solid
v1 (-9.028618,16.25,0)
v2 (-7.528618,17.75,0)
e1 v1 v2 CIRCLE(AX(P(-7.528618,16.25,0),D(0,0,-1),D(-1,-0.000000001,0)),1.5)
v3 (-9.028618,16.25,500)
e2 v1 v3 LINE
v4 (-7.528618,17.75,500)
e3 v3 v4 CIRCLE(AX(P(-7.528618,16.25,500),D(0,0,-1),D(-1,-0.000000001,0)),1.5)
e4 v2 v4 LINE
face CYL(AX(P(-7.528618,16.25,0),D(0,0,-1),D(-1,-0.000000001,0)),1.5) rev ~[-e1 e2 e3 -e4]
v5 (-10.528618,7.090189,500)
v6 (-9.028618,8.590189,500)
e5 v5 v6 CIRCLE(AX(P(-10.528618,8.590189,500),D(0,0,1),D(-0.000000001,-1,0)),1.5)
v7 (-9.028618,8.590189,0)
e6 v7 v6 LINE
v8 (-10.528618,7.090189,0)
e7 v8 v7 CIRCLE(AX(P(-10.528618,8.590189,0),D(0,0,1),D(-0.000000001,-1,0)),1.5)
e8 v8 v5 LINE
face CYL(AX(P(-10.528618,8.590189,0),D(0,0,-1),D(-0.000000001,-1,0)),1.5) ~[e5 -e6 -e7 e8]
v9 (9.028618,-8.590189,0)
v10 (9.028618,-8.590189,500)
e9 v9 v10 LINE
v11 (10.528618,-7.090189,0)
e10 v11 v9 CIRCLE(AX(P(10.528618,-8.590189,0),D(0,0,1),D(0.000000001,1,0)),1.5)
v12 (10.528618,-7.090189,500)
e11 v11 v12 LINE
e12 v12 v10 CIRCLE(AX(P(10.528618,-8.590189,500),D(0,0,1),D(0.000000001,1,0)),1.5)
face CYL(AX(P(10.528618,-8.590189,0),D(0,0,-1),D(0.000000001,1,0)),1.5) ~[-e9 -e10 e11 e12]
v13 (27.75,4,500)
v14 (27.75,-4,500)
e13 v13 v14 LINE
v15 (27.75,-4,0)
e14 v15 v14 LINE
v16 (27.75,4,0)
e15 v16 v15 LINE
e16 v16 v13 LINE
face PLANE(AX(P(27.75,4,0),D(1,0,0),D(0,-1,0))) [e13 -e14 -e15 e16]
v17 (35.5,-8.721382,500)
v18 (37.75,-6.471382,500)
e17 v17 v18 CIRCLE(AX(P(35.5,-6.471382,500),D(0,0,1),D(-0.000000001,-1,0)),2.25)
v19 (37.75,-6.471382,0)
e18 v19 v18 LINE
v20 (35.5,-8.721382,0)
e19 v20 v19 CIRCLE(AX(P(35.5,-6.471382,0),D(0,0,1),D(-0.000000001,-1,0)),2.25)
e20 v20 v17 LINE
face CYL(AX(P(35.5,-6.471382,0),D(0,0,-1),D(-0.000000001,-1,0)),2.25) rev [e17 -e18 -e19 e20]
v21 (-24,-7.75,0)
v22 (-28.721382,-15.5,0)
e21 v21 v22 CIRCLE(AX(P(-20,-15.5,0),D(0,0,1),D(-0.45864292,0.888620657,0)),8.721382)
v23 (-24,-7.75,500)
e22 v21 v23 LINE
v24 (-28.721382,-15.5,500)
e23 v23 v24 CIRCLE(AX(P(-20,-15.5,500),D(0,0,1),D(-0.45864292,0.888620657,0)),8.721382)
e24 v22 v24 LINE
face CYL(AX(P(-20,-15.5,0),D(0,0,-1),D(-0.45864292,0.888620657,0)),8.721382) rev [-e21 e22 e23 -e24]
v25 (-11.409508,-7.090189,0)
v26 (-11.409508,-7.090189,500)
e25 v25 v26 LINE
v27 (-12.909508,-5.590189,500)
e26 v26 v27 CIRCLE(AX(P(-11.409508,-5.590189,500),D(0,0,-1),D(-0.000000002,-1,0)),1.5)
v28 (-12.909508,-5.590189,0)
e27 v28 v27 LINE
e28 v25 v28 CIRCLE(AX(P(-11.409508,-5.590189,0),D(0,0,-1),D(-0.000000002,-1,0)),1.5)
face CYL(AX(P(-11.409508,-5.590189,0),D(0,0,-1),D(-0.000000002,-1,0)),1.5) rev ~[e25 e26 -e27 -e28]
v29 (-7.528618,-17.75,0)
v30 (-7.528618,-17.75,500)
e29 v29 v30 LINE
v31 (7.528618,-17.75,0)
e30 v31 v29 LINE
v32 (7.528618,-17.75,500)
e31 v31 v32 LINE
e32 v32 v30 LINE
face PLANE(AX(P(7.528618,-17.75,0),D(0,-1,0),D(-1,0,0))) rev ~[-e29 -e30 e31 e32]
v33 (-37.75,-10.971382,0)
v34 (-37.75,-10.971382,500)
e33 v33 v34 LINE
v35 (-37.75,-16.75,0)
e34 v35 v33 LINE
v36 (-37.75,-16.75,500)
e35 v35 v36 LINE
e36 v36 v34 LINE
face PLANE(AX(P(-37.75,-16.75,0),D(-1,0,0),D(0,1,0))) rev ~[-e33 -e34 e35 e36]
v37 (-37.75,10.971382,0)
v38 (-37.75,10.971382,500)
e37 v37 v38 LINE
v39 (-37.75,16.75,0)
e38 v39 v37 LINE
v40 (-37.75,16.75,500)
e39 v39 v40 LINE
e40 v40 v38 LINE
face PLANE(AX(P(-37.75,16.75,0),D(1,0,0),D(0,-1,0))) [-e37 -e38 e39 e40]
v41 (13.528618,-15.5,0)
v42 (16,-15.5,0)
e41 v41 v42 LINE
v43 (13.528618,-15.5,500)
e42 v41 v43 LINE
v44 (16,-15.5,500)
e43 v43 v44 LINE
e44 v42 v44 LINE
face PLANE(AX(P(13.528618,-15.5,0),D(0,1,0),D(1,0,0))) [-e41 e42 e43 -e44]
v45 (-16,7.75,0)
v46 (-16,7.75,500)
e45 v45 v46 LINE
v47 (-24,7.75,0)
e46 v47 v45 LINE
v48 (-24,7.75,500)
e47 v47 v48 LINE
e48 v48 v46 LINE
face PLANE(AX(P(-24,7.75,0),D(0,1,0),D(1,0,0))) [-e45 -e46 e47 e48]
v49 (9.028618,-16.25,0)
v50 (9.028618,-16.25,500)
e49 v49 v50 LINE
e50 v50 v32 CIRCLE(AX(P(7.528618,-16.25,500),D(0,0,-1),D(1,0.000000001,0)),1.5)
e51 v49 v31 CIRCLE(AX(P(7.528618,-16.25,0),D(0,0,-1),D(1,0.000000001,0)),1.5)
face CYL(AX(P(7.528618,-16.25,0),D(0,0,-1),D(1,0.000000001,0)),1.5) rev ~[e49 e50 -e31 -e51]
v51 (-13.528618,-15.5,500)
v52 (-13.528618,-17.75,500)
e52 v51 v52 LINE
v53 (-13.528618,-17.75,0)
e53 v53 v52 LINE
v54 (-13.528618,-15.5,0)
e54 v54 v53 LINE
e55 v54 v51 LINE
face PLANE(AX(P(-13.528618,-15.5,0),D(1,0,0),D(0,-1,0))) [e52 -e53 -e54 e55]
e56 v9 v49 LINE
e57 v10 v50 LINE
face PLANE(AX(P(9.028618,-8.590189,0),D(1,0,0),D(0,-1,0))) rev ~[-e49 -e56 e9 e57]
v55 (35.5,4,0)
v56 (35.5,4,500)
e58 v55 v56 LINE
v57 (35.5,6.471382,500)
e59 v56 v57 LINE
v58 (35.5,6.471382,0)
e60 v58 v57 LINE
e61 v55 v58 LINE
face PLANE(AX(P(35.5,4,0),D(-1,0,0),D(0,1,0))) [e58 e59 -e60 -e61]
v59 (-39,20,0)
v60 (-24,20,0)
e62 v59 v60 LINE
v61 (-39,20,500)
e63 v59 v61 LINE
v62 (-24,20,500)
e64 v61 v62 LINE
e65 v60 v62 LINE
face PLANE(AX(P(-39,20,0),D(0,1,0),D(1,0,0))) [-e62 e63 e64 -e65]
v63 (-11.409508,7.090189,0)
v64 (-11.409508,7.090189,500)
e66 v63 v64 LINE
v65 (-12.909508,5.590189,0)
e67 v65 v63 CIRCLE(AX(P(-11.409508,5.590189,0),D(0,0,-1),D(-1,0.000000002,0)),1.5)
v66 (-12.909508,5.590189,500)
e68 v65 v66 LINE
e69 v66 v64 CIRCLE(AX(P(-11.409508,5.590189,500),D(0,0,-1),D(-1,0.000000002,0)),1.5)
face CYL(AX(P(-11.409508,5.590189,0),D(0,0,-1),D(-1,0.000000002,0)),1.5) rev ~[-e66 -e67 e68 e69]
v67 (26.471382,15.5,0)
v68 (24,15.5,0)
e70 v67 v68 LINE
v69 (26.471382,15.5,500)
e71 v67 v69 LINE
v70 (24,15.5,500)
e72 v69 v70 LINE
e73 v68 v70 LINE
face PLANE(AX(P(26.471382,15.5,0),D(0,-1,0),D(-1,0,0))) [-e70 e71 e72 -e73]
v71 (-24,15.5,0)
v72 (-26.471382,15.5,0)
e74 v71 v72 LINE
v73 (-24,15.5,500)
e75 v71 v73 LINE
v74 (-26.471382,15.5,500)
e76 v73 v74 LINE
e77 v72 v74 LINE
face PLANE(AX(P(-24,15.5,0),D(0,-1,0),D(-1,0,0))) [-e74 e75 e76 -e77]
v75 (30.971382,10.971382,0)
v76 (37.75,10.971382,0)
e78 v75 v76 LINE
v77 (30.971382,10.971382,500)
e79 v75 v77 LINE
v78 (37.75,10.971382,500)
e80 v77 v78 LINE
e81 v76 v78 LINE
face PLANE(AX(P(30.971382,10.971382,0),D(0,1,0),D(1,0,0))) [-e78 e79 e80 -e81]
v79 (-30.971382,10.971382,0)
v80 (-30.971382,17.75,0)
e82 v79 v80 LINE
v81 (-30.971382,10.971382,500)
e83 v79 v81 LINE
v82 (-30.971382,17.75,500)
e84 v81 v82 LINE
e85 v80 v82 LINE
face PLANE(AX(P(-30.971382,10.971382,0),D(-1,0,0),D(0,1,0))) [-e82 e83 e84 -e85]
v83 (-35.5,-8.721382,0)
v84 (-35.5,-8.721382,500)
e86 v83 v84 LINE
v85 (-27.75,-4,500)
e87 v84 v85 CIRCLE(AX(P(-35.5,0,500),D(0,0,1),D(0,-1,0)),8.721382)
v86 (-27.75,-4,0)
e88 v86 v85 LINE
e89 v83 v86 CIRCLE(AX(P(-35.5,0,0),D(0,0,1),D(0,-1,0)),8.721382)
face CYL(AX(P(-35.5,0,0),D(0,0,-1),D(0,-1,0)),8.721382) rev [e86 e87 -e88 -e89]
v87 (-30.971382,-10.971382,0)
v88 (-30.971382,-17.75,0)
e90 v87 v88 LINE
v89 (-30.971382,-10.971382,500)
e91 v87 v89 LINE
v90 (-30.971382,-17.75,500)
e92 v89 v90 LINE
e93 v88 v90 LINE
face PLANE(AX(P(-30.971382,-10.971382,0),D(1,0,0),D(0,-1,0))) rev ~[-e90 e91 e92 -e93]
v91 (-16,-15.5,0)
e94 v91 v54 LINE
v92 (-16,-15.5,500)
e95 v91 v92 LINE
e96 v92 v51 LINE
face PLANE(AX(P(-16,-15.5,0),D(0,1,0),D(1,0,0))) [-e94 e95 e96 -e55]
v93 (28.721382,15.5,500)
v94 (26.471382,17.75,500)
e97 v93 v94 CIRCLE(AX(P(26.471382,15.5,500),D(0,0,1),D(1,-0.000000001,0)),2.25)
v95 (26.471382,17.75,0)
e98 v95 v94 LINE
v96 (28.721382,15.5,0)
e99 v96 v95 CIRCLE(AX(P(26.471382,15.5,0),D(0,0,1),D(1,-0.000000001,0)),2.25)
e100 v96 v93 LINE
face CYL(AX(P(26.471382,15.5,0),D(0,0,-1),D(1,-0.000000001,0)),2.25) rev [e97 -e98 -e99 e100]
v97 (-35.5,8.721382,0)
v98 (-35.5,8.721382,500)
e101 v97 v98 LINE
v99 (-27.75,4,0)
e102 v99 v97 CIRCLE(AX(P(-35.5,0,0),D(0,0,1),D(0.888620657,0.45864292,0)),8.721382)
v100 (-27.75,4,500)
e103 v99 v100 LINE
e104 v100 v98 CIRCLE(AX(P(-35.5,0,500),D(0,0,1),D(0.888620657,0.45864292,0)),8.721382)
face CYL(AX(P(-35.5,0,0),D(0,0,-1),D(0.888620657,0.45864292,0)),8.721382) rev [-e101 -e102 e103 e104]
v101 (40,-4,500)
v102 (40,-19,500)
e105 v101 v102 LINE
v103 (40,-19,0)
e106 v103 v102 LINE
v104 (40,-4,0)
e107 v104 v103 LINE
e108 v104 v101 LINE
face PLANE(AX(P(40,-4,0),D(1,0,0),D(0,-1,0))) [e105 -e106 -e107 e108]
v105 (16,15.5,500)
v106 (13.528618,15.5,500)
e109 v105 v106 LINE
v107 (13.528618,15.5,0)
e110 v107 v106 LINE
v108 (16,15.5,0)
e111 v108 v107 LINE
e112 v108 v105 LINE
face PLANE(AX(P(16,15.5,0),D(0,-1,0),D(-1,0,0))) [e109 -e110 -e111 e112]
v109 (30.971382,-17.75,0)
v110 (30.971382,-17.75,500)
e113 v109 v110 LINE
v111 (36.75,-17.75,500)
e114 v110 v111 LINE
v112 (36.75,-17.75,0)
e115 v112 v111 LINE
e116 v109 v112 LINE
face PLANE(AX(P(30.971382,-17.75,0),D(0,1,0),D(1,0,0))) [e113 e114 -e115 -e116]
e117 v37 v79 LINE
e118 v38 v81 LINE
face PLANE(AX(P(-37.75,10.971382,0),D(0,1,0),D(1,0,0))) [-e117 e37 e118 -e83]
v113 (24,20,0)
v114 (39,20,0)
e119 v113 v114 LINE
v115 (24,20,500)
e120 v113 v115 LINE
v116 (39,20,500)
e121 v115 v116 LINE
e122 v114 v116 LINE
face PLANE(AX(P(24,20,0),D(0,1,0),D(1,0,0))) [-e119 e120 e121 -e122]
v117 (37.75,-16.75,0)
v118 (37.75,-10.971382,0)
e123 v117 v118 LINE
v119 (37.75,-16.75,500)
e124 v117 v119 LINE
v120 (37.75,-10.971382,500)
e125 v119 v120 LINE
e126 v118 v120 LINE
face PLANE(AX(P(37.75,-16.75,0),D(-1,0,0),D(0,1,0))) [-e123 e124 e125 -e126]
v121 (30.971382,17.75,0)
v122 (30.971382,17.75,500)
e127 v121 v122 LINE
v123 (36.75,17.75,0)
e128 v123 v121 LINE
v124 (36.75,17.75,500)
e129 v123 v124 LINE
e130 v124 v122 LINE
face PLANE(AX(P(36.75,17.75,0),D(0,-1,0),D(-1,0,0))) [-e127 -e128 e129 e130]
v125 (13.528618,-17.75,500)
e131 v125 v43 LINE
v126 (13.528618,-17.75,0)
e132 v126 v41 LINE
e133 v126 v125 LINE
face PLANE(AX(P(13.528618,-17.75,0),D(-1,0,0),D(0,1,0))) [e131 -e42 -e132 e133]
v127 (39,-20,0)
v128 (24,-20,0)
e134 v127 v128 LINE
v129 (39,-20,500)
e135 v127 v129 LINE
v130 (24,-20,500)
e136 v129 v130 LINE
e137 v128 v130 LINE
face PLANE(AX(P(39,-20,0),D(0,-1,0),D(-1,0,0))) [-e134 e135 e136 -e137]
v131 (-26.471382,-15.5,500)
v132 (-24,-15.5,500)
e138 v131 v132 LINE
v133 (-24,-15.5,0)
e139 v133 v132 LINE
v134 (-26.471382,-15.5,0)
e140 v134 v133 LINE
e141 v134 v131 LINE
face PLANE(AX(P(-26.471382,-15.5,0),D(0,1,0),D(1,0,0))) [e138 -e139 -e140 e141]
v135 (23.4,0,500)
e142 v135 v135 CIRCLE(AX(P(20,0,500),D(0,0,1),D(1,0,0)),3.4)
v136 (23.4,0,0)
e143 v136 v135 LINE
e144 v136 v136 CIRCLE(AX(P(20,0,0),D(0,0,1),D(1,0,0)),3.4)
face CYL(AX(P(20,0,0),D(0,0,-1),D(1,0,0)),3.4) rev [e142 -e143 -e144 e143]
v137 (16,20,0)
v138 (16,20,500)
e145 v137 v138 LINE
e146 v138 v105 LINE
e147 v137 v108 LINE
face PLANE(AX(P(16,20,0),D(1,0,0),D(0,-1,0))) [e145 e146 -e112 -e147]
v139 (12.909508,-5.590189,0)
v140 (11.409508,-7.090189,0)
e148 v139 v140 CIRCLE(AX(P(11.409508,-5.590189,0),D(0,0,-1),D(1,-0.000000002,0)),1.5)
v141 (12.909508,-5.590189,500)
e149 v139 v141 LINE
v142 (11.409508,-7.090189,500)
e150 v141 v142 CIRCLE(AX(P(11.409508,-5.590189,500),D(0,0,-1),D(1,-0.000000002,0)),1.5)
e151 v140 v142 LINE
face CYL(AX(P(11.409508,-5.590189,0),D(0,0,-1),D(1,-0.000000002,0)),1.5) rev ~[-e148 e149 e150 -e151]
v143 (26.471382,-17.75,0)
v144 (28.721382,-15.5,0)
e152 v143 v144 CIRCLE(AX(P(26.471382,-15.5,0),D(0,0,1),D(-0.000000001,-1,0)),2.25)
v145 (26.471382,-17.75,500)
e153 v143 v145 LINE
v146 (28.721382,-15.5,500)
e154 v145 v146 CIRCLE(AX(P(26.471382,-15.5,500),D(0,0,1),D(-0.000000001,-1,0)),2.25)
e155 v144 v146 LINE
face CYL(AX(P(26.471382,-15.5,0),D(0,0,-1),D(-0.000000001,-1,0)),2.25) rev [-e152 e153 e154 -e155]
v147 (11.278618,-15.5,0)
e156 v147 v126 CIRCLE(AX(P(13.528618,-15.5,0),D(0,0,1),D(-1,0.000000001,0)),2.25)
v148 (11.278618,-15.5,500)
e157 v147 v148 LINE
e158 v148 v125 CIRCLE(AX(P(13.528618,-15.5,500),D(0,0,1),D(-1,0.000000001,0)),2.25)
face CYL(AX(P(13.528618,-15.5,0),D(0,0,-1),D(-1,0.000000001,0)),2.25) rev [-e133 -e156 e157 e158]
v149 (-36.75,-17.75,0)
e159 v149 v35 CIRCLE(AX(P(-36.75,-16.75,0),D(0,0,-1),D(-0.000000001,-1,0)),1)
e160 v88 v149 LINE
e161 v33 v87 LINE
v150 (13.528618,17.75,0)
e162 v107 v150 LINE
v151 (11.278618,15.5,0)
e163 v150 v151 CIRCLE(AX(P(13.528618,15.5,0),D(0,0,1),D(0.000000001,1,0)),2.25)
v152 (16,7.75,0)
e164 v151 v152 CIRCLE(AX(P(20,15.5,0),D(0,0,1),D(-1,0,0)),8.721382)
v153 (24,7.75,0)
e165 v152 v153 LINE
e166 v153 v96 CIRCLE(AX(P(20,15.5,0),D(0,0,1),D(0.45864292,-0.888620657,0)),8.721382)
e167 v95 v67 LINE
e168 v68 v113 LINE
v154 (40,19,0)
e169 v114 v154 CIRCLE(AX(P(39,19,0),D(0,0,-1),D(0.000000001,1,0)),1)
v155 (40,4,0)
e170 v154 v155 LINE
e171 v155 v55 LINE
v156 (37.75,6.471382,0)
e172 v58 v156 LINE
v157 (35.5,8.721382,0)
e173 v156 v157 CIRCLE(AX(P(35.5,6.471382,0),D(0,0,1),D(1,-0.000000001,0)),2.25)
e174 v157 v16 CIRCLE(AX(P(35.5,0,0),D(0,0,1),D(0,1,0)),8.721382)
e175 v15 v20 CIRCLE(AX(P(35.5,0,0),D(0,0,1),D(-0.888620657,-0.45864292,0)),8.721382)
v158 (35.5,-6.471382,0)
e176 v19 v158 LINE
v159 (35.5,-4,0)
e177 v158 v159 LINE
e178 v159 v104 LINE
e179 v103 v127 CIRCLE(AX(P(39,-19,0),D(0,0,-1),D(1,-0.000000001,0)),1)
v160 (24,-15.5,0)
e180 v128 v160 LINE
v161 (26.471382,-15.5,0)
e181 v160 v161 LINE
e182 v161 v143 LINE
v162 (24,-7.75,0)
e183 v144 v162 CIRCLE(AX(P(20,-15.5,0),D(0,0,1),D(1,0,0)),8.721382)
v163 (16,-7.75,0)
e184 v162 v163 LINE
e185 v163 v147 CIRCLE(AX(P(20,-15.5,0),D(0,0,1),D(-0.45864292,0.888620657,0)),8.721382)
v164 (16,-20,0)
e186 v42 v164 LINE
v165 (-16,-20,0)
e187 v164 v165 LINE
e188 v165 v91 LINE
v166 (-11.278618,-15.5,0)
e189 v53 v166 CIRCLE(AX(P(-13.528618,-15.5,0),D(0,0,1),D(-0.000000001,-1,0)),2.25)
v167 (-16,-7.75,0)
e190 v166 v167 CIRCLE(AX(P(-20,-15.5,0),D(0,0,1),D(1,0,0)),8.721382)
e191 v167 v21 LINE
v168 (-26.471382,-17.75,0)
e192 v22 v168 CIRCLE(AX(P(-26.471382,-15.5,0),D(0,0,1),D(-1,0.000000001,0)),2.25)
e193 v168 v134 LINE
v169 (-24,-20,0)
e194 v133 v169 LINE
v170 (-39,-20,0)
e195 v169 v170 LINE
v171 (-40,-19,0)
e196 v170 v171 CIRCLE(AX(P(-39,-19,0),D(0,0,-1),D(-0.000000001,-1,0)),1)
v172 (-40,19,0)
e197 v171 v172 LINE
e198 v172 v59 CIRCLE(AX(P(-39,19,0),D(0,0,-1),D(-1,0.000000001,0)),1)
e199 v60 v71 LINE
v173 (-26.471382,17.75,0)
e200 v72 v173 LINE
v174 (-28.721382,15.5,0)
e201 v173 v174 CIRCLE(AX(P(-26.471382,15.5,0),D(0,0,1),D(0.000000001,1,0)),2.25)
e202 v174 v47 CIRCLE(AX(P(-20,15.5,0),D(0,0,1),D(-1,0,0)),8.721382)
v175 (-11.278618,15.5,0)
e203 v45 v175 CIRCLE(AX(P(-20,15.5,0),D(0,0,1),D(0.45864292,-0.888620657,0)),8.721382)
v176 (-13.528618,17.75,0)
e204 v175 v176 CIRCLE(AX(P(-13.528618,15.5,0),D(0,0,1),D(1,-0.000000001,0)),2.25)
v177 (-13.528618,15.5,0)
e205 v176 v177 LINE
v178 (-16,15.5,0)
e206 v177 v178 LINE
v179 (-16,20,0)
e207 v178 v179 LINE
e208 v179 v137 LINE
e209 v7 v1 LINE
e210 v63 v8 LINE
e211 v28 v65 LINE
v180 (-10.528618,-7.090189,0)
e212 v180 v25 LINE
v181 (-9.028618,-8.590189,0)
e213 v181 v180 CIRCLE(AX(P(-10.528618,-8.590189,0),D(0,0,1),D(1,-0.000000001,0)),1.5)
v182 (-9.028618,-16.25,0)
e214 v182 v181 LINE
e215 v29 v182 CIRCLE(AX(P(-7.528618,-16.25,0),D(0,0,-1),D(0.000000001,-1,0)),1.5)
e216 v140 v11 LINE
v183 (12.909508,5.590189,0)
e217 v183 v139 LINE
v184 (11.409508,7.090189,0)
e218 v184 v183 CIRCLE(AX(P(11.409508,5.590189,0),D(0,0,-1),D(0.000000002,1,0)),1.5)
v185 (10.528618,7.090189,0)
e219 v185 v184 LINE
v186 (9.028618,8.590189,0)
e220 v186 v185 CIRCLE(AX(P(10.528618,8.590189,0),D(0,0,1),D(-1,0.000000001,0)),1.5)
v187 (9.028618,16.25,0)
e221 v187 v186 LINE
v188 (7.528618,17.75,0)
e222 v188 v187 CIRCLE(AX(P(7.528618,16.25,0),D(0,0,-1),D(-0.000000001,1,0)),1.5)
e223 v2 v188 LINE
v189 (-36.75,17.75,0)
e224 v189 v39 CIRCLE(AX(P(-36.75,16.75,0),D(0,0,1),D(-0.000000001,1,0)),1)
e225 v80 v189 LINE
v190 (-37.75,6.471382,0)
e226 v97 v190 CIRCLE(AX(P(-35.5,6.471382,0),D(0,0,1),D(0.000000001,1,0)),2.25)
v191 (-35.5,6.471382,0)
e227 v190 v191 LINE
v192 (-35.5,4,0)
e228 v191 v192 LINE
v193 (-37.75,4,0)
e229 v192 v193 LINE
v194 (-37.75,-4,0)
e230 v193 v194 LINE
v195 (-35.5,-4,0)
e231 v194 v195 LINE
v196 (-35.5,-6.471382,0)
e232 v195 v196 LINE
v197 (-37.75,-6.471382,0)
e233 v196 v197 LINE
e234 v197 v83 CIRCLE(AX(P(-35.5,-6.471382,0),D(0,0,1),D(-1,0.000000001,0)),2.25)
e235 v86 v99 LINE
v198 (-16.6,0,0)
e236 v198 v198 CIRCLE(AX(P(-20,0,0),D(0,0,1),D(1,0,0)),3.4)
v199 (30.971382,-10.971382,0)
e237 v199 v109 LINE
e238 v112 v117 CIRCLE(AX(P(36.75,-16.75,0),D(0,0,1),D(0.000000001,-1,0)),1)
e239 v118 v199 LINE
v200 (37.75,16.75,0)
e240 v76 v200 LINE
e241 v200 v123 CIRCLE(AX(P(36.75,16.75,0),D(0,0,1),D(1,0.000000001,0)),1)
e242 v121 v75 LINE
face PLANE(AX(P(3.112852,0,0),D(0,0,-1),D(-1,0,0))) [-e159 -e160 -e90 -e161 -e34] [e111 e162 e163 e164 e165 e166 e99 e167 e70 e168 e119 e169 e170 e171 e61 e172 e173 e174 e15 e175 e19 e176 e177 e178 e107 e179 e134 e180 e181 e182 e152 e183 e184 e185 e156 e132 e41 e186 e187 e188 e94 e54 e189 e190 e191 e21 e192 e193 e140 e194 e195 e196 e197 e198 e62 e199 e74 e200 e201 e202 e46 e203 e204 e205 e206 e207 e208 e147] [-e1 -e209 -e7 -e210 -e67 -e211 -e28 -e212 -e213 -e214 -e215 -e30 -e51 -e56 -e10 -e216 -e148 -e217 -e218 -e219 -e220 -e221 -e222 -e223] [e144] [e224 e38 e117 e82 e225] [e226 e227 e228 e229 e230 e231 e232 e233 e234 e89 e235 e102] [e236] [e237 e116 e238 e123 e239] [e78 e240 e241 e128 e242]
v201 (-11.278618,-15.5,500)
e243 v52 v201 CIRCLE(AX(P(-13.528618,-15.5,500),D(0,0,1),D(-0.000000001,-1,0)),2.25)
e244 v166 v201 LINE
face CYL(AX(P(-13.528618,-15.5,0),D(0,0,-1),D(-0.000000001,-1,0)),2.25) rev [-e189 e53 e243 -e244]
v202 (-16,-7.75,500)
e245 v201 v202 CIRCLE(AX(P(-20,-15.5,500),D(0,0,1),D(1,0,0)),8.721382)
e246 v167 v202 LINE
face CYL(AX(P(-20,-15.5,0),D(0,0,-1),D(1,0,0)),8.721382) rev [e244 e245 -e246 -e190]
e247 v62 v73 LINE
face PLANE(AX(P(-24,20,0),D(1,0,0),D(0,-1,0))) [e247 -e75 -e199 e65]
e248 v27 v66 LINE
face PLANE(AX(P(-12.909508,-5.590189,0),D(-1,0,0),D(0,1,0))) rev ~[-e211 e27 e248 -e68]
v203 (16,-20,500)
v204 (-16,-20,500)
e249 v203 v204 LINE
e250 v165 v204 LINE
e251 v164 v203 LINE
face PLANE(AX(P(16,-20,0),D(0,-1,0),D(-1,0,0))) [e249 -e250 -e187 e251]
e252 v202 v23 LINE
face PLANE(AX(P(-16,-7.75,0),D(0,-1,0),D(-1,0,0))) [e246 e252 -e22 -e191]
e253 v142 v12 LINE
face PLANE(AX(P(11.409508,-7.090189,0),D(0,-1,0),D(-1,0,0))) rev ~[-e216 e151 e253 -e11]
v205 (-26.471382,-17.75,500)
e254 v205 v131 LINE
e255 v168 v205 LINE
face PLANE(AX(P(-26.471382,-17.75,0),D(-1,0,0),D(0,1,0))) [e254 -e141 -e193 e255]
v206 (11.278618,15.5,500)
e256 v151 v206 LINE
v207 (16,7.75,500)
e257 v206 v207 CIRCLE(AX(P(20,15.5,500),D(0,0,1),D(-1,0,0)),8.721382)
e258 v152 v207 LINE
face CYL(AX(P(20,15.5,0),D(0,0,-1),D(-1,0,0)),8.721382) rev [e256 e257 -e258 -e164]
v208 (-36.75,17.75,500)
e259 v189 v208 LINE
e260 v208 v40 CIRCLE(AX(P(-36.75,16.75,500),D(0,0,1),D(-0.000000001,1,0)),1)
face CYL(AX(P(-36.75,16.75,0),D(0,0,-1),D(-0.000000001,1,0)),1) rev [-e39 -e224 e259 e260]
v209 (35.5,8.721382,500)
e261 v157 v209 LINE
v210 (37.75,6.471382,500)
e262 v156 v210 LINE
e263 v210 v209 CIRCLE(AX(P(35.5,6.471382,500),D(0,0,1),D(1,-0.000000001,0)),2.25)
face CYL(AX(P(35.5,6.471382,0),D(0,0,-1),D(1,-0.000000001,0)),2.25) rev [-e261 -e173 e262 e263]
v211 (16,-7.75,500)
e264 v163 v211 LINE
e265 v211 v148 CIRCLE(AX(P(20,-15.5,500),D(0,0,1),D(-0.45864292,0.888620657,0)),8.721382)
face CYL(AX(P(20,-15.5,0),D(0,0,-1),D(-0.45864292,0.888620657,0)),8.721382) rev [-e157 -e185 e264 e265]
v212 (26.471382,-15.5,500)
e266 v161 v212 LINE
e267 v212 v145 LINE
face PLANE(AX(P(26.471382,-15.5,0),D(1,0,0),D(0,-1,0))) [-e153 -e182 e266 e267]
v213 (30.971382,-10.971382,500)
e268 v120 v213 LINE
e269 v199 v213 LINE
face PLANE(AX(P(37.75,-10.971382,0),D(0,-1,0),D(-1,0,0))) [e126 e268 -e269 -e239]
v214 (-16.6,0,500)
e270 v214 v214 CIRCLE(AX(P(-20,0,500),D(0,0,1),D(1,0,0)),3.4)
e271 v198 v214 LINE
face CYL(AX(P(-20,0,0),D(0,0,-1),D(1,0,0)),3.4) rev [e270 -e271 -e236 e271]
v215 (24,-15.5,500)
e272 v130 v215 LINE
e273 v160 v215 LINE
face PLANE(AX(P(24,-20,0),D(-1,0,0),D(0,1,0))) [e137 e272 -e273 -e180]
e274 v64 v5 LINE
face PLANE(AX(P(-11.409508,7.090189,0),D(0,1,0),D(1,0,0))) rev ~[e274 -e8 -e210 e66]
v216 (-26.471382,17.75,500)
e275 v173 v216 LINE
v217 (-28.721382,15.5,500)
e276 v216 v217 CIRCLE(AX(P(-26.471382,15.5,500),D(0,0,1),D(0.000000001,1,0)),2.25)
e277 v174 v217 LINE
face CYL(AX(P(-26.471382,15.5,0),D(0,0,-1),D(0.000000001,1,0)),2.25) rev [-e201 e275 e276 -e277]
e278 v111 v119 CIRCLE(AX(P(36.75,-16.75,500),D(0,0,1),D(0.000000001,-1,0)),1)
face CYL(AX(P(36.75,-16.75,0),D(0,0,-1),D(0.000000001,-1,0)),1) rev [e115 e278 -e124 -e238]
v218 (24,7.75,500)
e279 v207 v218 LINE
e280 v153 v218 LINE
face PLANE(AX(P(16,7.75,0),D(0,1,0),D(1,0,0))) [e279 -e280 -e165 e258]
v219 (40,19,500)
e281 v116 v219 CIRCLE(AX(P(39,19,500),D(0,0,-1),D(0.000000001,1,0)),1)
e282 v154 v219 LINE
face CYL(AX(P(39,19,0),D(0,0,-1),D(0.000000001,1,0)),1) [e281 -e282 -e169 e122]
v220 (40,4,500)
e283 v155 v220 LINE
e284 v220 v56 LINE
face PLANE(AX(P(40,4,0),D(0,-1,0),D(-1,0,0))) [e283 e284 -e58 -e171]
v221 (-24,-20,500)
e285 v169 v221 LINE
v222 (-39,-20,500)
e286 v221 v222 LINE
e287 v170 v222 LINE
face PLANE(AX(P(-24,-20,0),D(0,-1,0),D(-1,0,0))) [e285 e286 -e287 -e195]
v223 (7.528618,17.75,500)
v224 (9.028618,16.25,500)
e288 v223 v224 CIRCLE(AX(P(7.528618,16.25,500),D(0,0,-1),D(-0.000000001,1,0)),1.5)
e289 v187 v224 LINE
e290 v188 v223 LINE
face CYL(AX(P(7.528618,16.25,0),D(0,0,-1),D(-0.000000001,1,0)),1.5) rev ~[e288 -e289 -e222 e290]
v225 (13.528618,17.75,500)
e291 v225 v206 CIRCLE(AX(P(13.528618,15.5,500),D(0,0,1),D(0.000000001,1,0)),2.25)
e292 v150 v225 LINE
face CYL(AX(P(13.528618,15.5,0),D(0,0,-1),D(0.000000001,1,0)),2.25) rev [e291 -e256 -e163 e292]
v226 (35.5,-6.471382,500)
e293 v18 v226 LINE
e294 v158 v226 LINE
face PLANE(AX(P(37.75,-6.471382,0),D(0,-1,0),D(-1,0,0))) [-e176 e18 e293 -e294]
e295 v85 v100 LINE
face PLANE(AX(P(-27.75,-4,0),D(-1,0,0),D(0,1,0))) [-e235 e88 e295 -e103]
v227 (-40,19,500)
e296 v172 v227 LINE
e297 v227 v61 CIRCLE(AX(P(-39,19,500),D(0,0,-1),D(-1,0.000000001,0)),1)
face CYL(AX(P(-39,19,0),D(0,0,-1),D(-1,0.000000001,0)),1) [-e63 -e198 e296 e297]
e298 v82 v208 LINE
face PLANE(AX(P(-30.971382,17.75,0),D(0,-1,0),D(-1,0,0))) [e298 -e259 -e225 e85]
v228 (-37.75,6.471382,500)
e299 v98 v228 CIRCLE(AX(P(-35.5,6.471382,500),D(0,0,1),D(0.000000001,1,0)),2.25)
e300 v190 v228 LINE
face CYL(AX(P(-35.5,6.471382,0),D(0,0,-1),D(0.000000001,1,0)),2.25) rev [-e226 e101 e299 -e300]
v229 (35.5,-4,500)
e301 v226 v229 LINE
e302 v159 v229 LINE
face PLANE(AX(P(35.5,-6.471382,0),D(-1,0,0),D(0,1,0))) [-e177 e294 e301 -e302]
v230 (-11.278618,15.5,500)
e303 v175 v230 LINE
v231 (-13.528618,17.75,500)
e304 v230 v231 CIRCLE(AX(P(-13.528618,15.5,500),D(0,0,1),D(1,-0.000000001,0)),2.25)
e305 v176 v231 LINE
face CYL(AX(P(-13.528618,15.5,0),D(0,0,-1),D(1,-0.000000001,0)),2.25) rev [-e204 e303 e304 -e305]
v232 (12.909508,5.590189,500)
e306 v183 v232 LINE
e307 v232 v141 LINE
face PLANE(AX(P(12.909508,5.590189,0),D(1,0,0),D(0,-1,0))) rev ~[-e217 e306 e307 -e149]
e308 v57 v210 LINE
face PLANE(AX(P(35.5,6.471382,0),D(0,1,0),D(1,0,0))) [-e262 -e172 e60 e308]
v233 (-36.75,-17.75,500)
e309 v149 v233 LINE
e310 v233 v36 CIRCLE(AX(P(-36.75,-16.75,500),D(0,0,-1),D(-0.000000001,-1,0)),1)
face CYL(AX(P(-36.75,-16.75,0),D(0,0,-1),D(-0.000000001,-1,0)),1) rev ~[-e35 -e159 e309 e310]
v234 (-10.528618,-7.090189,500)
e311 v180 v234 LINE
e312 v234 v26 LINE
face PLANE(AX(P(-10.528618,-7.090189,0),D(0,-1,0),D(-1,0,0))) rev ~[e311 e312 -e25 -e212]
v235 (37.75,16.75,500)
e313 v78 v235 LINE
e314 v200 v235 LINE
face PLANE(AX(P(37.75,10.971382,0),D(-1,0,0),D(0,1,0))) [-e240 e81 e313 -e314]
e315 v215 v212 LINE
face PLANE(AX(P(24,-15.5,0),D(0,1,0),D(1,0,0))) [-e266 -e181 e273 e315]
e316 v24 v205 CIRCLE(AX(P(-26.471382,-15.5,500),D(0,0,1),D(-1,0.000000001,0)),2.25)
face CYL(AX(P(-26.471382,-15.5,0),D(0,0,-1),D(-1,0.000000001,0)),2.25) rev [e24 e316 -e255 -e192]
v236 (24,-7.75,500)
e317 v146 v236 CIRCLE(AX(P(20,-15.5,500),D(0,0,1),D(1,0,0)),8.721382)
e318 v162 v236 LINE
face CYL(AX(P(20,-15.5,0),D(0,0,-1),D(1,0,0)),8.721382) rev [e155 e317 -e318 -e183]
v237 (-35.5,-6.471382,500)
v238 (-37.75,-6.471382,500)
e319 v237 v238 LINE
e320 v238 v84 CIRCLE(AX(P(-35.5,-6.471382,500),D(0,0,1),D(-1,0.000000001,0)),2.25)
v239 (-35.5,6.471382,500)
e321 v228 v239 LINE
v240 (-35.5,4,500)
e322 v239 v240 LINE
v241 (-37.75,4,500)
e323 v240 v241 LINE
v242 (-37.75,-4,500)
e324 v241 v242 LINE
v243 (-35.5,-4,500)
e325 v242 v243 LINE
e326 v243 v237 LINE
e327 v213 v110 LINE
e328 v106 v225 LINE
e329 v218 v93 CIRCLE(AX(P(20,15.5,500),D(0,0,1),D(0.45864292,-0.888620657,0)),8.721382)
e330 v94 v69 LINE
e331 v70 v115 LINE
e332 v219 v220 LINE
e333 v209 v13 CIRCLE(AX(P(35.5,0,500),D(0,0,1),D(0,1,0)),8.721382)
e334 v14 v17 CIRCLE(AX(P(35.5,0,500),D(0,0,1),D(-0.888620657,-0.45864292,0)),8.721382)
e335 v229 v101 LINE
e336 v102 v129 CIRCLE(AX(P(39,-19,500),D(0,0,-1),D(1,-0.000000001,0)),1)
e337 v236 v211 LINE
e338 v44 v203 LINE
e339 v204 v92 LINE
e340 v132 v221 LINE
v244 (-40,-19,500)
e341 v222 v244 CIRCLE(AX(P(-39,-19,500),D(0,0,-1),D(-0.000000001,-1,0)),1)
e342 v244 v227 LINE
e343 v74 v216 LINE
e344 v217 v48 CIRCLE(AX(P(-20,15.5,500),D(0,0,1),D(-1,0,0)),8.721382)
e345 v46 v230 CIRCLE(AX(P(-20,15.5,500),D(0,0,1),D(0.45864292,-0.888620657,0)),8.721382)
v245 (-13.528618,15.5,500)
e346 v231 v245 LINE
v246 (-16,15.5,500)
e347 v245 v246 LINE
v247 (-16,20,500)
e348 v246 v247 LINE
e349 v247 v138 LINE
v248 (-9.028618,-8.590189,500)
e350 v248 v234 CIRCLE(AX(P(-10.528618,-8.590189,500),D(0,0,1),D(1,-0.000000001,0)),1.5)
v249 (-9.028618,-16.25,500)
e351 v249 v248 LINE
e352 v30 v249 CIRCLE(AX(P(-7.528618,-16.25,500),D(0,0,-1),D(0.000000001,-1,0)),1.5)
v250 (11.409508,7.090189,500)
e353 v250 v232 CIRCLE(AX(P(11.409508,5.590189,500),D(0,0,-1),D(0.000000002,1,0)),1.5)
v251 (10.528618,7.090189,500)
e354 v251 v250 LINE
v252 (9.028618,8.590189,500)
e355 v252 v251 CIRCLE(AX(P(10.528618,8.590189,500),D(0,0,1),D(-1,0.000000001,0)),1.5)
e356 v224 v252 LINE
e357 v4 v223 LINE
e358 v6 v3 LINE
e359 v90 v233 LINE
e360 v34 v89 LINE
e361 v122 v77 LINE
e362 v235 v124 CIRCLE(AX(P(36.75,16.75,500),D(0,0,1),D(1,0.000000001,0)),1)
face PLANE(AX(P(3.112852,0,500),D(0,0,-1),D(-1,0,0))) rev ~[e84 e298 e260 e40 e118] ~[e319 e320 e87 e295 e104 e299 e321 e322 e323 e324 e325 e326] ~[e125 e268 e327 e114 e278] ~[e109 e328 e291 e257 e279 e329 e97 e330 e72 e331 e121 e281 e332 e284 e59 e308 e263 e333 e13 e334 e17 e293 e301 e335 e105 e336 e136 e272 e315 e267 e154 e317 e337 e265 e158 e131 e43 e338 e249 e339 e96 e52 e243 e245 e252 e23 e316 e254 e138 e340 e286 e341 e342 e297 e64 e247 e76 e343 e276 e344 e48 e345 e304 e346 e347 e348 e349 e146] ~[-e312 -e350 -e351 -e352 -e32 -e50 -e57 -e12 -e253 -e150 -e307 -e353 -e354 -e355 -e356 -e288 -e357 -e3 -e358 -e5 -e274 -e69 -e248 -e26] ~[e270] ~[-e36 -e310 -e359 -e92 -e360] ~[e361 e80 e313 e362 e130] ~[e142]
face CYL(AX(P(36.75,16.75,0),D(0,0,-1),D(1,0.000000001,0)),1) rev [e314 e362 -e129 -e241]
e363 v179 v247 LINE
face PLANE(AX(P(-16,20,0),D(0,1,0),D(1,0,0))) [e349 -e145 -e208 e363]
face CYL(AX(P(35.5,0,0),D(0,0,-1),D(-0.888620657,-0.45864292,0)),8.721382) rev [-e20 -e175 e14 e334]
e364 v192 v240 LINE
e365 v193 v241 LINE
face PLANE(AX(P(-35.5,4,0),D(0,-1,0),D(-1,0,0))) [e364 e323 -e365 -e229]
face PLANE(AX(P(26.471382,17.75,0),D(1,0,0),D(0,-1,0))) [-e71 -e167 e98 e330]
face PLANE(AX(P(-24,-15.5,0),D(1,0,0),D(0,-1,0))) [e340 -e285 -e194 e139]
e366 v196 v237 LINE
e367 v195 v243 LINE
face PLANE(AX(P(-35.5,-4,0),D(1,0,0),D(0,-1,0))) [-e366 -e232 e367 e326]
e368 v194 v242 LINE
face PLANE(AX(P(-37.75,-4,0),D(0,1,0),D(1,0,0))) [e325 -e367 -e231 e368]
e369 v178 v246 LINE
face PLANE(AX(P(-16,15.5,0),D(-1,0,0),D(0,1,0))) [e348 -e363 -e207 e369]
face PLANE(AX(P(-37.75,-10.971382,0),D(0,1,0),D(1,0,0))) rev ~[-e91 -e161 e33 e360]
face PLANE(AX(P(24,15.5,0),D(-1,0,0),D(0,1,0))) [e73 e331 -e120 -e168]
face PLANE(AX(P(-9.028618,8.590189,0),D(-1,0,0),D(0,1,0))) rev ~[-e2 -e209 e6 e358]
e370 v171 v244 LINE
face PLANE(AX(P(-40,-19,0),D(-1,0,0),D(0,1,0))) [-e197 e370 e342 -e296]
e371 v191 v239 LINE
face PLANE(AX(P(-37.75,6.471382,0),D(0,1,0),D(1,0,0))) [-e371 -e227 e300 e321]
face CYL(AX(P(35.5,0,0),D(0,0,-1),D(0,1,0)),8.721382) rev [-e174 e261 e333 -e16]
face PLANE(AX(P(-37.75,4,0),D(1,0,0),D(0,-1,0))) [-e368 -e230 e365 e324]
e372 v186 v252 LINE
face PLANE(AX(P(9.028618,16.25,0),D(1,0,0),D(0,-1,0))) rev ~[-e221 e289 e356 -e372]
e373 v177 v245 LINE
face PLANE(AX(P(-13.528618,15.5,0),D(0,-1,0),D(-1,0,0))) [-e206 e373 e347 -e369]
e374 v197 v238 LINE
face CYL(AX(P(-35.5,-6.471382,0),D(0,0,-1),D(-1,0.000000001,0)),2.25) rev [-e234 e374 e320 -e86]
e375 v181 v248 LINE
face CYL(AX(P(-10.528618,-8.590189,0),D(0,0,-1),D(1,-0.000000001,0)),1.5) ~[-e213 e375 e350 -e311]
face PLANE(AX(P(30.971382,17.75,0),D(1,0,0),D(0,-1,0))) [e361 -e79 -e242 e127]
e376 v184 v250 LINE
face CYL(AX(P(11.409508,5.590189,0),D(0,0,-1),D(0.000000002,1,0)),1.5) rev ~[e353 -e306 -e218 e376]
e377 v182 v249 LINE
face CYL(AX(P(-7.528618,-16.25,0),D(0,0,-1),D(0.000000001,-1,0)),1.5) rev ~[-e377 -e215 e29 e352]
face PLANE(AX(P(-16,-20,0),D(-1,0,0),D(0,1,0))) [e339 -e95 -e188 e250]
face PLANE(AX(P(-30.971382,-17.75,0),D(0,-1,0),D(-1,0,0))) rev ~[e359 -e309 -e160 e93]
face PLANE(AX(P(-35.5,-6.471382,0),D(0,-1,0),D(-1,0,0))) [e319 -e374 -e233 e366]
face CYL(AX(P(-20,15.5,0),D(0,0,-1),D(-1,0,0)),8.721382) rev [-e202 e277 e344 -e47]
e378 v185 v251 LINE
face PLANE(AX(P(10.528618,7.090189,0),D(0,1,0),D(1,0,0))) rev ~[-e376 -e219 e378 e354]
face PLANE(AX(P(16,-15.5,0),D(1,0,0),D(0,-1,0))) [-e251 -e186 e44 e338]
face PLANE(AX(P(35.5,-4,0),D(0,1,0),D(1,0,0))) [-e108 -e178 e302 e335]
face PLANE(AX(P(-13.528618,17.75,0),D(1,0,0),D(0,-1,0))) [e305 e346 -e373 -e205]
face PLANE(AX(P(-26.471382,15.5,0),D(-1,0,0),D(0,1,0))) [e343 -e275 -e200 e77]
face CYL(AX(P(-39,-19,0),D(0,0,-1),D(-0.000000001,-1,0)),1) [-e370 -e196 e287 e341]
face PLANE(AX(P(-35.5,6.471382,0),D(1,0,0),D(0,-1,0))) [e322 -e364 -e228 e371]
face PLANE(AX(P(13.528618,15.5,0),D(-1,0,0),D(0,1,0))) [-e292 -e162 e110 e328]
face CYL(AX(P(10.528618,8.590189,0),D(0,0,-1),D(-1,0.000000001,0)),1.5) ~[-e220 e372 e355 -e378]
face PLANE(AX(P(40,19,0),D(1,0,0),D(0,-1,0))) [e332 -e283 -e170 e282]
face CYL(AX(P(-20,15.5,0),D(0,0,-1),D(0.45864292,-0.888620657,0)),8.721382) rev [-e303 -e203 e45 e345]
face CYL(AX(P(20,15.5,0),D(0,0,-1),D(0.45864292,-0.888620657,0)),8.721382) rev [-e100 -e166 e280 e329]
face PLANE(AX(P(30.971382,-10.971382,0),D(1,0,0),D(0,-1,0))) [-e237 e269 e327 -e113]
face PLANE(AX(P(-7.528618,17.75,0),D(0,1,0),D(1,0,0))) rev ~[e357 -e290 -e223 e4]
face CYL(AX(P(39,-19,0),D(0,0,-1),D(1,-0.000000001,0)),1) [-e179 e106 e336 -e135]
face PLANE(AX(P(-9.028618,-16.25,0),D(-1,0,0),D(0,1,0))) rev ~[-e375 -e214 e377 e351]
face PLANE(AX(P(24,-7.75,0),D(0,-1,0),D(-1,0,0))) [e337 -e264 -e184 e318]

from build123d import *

# Parameters (mm, degrees)
SZKIC1_R                    = 3.4
DODANIE_WYCI_GNI_CIE1_DEPTH = 500


with BuildPart() as part:
    # Szkic1 → Dodanie-wyciągnięcie1 (new body)
    with BuildSketch(Plane.XY):
        with BuildLine():
            Line((-40, -19), (-40, 19))
            ThreePointArc((-40, 19), (-39.707106781, 19.707106781), (-39, 20))
            Line((-39, 20), (-24, 20))
            Line((-24, 20), (-24, 15.5))
            Line((-24, 15.5), (-26.471381771, 15.5))
            Line((-26.471381771, 15.5), (-26.471381771, 17.75))
            ThreePointArc((-26.471381771, 17.75), (-28.062372029, 17.090990258), (-28.721381771, 15.5))
            ThreePointArc((-28.721381771, 15.5), (-27.448087912, 10.962546258), (-24, 7.75))
            Line((-24, 7.75), (-16, 7.75))
            ThreePointArc((-16, 7.75), (-12.551912088, 10.962546258), (-11.278618229, 15.5))
            ThreePointArc((-11.278618229, 15.5), (-11.937627971, 17.090990258), (-13.528618229, 17.75))
            Line((-13.528618229, 17.75), (-13.528618229, 15.5))
            Line((-13.528618229, 15.5), (-16, 15.5))
            Line((-16, 15.5), (-16, 20))
            Line((-16, 20), (13.528618229, 20))
            Line((13.528618229, 20), (16, 20))
            Line((16, 20), (16, 15.5))
            Line((16, 15.5), (13.528618229, 15.5))
            Line((13.528618229, 15.5), (13.528618229, 17.75))
            ThreePointArc((13.528618229, 17.75), (11.937627971, 17.090990258), (11.278618229, 15.5))
            ThreePointArc((11.278618229, 15.5), (12.551912088, 10.962546258), (16, 7.75))
            Line((16, 7.75), (24, 7.75))
            ThreePointArc((24, 7.75), (27.448087912, 10.962546258), (28.721381771, 15.5))
            ThreePointArc((28.721381771, 15.5), (28.062372029, 17.090990258), (26.471381771, 17.75))
            Line((26.471381771, 17.75), (26.471381771, 15.5))
            Line((26.471381771, 15.5), (24, 15.5))
            Line((24, 15.5), (24, 20))
            Line((24, 20), (39, 20))
            ThreePointArc((39, 20), (39.707106781, 19.707106781), (40, 19))
            Line((40, 19), (40, 4))
            Line((40, 4), (35.5, 4))
            Line((35.5, 4), (35.5, 6.471381771))
            Line((35.5, 6.471381771), (37.75, 6.471381771))
            ThreePointArc((37.75, 6.471381771), (37.090990258, 8.062372029), (35.5, 8.721381771))
            ThreePointArc((35.5, 8.721381771), (30.962546258, 7.448087912), (27.75, 4))
            Line((27.75, 4), (27.75, -4))
            ThreePointArc((27.75, -4), (30.962546258, -7.448087912), (35.5, -8.721381771))
            ThreePointArc((35.5, -8.721381771), (37.090990258, -8.062372029), (37.75, -6.471381771))
            Line((37.75, -6.471381771), (35.5, -6.471381771))
            Line((35.5, -6.471381771), (35.5, -4))
            Line((35.5, -4), (40, -4))
            Line((40, -4), (40, -19))
            ThreePointArc((40, -19), (39.707106781, -19.707106781), (39, -20))
            Line((39, -20), (24, -20))
            Line((24, -20), (24, -15.5))
            Line((24, -15.5), (26.471381771, -15.5))
            Line((26.471381771, -15.5), (26.471381771, -17.75))
            ThreePointArc((26.471381771, -17.75), (28.062372029, -17.090990258), (28.721381771, -15.5))
            ThreePointArc((28.721381771, -15.5), (27.448087912, -10.962546258), (24, -7.75))
            Line((24, -7.75), (16, -7.75))
            ThreePointArc((16, -7.75), (12.551912088, -10.962546258), (11.278618229, -15.5))
            ThreePointArc((11.278618229, -15.5), (11.937627971, -17.090990258), (13.528618229, -17.75))
            Line((13.528618229, -17.75), (13.528618229, -15.5))
            Line((13.528618229, -15.5), (16, -15.5))
            Line((16, -15.5), (16, -20))
            Line((16, -20), (-16, -20))
            Line((-16, -20), (-16, -15.5))
            Line((-16, -15.5), (-13.528618229, -15.5))
            Line((-13.528618229, -15.5), (-13.528618229, -17.75))
            ThreePointArc((-13.528618229, -17.75), (-11.937627971, -17.090990258), (-11.278618229, -15.5))
            ThreePointArc((-11.278618229, -15.5), (-12.551912088, -10.962546258), (-16, -7.75))
            Line((-16, -7.75), (-24, -7.75))
            ThreePointArc((-24, -7.75), (-27.448087912, -10.962546258), (-28.721381771, -15.5))
            ThreePointArc((-28.721381771, -15.5), (-28.062372029, -17.090990258), (-26.471381771, -17.75))
            Line((-26.471381771, -17.75), (-26.471381771, -15.5))
            Line((-26.471381771, -15.5), (-24, -15.5))
            Line((-24, -15.5), (-24, -20))
            Line((-24, -20), (-39, -20))
            ThreePointArc((-39, -20), (-39.707106781, -19.707106781), (-40, -19))
        make_face()
        with Locations((-20, 0)):
            Circle(SZKIC1_R, mode=Mode.SUBTRACT)
        with Locations((20, 0)):
            Circle(SZKIC1_R, mode=Mode.SUBTRACT)
        with BuildLine():
            Line((30.971381771, -17.75), (36.75, -17.75))
            ThreePointArc((36.75, -17.75), (37.457106781, -17.457106781), (37.75, -16.75))
            Line((37.75, -16.75), (37.75, -10.971381771))
            Line((37.75, -10.971381771), (30.971381771, -10.971381771))
            Line((30.971381771, -10.971381771), (30.971381771, -17.75))
        make_face(mode=Mode.SUBTRACT)
        with BuildLine():
            Line((-35.5, -6.471381771), (-37.75, -6.471381771))
            ThreePointArc((-37.75, -6.471381771), (-37.090990258, -8.062372029), (-35.5, -8.721381771))
            ThreePointArc((-35.5, -8.721381771), (-30.962546258, -7.448087912), (-27.75, -4))
            Line((-27.75, -4), (-27.75, 4))
            ThreePointArc((-27.75, 4), (-30.962546258, 7.448087912), (-35.5, 8.721381771))
            ThreePointArc((-35.5, 8.721381771), (-37.090990258, 8.062372029), (-37.75, 6.471381771))
            Line((-37.75, 6.471381771), (-35.5, 6.471381771))
            Line((-35.5, 6.471381771), (-35.5, 4))
            Line((-35.5, 4), (-37.75, 4))
            Line((-37.75, 4), (-37.75, -4))
            Line((-37.75, -4), (-35.5, -4))
            Line((-35.5, -4), (-35.5, -6.471381771))
        make_face(mode=Mode.SUBTRACT)
        with BuildLine():
            Line((10.528618229, 7.090188806), (11.40950808, 7.090188806))
            ThreePointArc((11.40950808, 7.090188806), (12.470168251, 6.650848977), (12.90950808, 5.590188806))
            Line((12.90950808, 5.590188806), (12.90950808, -5.590188806))
            ThreePointArc((12.90950808, -5.590188806), (12.470168251, -6.650848977), (11.40950808, -7.090188806))
            Line((11.40950808, -7.090188806), (10.528618229, -7.090188806))
            ThreePointArc((10.528618229, -7.090188806), (9.467958057, -7.529528634), (9.028618229, -8.590188806))
            Line((9.028618229, -8.590188806), (9.028618229, -16.25))
            ThreePointArc((9.028618229, -16.25), (8.589278401, -17.310660172), (7.528618229, -17.75))
            Line((7.528618229, -17.75), (-7.528618229, -17.75))
            ThreePointArc((-7.528618229, -17.75), (-8.589278401, -17.310660172), (-9.028618229, -16.25))
            Line((-9.028618229, -16.25), (-9.028618229, -8.590188806))
            ThreePointArc((-9.028618229, -8.590188806), (-9.467958057, -7.529528634), (-10.528618229, -7.090188806))
            Line((-10.528618229, -7.090188806), (-11.40950808, -7.090188806))
            ThreePointArc((-11.40950808, -7.090188806), (-12.470168251, -6.650848977), (-12.90950808, -5.590188806))
            Line((-12.90950808, -5.590188806), (-12.90950808, 5.590188806))
            ThreePointArc((-12.90950808, 5.590188806), (-12.470168251, 6.650848977), (-11.40950808, 7.090188806))
            Line((-11.40950808, 7.090188806), (-10.528618229, 7.090188806))
            ThreePointArc((-10.528618229, 7.090188806), (-9.467958057, 7.529528634), (-9.028618229, 8.590188806))
            Line((-9.028618229, 8.590188806), (-9.028618229, 16.25))
            ThreePointArc((-9.028618229, 16.25), (-8.589278401, 17.310660172), (-7.528618229, 17.75))
            Line((-7.528618229, 17.75), (7.528618229, 17.75))
            ThreePointArc((7.528618229, 17.75), (8.589278401, 17.310660172), (9.028618229, 16.25))
            Line((9.028618229, 16.25), (9.028618229, 8.590188806))
            ThreePointArc((9.028618229, 8.590188806), (9.467958057, 7.529528634), (10.528618229, 7.090188806))
        make_face(mode=Mode.SUBTRACT)
        with BuildLine():
            Line((30.971381771, 10.971381771), (37.75, 10.971381771))
            Line((37.75, 10.971381771), (37.75, 16.75))
            ThreePointArc((37.75, 16.75), (37.457106781, 17.457106781), (36.75, 17.75))
            Line((36.75, 17.75), (30.971381771, 17.75))
            Line((30.971381771, 17.75), (30.971381771, 10.971381771))
        make_face(mode=Mode.SUBTRACT)
        with BuildLine():
            Line((-30.971381771, -10.971381771), (-30.971381771, -17.75))
            Line((-30.971381771, -17.75), (-36.75, -17.75))
            ThreePointArc((-36.75, -17.75), (-37.457106781, -17.457106781), (-37.75, -16.75))
            Line((-37.75, -16.75), (-37.75, -10.971381771))
            Line((-37.75, -10.971381771), (-30.971381771, -10.971381771))
        make_face(mode=Mode.SUBTRACT)
        with BuildLine():
            Line((-30.971381771, 17.75), (-36.75, 17.75))
            ThreePointArc((-36.75, 17.75), (-37.457106781, 17.457106781), (-37.75, 16.75))
            Line((-37.75, 16.75), (-37.75, 10.971381771))
            Line((-37.75, 10.971381771), (-30.971381771, 10.971381771))
            Line((-30.971381771, 10.971381771), (-30.971381771, 17.75))
        make_face(mode=Mode.SUBTRACT)
    extrude(amount=DODANIE_WYCI_GNI_CIE1_DEPTH)


solid = part.part
